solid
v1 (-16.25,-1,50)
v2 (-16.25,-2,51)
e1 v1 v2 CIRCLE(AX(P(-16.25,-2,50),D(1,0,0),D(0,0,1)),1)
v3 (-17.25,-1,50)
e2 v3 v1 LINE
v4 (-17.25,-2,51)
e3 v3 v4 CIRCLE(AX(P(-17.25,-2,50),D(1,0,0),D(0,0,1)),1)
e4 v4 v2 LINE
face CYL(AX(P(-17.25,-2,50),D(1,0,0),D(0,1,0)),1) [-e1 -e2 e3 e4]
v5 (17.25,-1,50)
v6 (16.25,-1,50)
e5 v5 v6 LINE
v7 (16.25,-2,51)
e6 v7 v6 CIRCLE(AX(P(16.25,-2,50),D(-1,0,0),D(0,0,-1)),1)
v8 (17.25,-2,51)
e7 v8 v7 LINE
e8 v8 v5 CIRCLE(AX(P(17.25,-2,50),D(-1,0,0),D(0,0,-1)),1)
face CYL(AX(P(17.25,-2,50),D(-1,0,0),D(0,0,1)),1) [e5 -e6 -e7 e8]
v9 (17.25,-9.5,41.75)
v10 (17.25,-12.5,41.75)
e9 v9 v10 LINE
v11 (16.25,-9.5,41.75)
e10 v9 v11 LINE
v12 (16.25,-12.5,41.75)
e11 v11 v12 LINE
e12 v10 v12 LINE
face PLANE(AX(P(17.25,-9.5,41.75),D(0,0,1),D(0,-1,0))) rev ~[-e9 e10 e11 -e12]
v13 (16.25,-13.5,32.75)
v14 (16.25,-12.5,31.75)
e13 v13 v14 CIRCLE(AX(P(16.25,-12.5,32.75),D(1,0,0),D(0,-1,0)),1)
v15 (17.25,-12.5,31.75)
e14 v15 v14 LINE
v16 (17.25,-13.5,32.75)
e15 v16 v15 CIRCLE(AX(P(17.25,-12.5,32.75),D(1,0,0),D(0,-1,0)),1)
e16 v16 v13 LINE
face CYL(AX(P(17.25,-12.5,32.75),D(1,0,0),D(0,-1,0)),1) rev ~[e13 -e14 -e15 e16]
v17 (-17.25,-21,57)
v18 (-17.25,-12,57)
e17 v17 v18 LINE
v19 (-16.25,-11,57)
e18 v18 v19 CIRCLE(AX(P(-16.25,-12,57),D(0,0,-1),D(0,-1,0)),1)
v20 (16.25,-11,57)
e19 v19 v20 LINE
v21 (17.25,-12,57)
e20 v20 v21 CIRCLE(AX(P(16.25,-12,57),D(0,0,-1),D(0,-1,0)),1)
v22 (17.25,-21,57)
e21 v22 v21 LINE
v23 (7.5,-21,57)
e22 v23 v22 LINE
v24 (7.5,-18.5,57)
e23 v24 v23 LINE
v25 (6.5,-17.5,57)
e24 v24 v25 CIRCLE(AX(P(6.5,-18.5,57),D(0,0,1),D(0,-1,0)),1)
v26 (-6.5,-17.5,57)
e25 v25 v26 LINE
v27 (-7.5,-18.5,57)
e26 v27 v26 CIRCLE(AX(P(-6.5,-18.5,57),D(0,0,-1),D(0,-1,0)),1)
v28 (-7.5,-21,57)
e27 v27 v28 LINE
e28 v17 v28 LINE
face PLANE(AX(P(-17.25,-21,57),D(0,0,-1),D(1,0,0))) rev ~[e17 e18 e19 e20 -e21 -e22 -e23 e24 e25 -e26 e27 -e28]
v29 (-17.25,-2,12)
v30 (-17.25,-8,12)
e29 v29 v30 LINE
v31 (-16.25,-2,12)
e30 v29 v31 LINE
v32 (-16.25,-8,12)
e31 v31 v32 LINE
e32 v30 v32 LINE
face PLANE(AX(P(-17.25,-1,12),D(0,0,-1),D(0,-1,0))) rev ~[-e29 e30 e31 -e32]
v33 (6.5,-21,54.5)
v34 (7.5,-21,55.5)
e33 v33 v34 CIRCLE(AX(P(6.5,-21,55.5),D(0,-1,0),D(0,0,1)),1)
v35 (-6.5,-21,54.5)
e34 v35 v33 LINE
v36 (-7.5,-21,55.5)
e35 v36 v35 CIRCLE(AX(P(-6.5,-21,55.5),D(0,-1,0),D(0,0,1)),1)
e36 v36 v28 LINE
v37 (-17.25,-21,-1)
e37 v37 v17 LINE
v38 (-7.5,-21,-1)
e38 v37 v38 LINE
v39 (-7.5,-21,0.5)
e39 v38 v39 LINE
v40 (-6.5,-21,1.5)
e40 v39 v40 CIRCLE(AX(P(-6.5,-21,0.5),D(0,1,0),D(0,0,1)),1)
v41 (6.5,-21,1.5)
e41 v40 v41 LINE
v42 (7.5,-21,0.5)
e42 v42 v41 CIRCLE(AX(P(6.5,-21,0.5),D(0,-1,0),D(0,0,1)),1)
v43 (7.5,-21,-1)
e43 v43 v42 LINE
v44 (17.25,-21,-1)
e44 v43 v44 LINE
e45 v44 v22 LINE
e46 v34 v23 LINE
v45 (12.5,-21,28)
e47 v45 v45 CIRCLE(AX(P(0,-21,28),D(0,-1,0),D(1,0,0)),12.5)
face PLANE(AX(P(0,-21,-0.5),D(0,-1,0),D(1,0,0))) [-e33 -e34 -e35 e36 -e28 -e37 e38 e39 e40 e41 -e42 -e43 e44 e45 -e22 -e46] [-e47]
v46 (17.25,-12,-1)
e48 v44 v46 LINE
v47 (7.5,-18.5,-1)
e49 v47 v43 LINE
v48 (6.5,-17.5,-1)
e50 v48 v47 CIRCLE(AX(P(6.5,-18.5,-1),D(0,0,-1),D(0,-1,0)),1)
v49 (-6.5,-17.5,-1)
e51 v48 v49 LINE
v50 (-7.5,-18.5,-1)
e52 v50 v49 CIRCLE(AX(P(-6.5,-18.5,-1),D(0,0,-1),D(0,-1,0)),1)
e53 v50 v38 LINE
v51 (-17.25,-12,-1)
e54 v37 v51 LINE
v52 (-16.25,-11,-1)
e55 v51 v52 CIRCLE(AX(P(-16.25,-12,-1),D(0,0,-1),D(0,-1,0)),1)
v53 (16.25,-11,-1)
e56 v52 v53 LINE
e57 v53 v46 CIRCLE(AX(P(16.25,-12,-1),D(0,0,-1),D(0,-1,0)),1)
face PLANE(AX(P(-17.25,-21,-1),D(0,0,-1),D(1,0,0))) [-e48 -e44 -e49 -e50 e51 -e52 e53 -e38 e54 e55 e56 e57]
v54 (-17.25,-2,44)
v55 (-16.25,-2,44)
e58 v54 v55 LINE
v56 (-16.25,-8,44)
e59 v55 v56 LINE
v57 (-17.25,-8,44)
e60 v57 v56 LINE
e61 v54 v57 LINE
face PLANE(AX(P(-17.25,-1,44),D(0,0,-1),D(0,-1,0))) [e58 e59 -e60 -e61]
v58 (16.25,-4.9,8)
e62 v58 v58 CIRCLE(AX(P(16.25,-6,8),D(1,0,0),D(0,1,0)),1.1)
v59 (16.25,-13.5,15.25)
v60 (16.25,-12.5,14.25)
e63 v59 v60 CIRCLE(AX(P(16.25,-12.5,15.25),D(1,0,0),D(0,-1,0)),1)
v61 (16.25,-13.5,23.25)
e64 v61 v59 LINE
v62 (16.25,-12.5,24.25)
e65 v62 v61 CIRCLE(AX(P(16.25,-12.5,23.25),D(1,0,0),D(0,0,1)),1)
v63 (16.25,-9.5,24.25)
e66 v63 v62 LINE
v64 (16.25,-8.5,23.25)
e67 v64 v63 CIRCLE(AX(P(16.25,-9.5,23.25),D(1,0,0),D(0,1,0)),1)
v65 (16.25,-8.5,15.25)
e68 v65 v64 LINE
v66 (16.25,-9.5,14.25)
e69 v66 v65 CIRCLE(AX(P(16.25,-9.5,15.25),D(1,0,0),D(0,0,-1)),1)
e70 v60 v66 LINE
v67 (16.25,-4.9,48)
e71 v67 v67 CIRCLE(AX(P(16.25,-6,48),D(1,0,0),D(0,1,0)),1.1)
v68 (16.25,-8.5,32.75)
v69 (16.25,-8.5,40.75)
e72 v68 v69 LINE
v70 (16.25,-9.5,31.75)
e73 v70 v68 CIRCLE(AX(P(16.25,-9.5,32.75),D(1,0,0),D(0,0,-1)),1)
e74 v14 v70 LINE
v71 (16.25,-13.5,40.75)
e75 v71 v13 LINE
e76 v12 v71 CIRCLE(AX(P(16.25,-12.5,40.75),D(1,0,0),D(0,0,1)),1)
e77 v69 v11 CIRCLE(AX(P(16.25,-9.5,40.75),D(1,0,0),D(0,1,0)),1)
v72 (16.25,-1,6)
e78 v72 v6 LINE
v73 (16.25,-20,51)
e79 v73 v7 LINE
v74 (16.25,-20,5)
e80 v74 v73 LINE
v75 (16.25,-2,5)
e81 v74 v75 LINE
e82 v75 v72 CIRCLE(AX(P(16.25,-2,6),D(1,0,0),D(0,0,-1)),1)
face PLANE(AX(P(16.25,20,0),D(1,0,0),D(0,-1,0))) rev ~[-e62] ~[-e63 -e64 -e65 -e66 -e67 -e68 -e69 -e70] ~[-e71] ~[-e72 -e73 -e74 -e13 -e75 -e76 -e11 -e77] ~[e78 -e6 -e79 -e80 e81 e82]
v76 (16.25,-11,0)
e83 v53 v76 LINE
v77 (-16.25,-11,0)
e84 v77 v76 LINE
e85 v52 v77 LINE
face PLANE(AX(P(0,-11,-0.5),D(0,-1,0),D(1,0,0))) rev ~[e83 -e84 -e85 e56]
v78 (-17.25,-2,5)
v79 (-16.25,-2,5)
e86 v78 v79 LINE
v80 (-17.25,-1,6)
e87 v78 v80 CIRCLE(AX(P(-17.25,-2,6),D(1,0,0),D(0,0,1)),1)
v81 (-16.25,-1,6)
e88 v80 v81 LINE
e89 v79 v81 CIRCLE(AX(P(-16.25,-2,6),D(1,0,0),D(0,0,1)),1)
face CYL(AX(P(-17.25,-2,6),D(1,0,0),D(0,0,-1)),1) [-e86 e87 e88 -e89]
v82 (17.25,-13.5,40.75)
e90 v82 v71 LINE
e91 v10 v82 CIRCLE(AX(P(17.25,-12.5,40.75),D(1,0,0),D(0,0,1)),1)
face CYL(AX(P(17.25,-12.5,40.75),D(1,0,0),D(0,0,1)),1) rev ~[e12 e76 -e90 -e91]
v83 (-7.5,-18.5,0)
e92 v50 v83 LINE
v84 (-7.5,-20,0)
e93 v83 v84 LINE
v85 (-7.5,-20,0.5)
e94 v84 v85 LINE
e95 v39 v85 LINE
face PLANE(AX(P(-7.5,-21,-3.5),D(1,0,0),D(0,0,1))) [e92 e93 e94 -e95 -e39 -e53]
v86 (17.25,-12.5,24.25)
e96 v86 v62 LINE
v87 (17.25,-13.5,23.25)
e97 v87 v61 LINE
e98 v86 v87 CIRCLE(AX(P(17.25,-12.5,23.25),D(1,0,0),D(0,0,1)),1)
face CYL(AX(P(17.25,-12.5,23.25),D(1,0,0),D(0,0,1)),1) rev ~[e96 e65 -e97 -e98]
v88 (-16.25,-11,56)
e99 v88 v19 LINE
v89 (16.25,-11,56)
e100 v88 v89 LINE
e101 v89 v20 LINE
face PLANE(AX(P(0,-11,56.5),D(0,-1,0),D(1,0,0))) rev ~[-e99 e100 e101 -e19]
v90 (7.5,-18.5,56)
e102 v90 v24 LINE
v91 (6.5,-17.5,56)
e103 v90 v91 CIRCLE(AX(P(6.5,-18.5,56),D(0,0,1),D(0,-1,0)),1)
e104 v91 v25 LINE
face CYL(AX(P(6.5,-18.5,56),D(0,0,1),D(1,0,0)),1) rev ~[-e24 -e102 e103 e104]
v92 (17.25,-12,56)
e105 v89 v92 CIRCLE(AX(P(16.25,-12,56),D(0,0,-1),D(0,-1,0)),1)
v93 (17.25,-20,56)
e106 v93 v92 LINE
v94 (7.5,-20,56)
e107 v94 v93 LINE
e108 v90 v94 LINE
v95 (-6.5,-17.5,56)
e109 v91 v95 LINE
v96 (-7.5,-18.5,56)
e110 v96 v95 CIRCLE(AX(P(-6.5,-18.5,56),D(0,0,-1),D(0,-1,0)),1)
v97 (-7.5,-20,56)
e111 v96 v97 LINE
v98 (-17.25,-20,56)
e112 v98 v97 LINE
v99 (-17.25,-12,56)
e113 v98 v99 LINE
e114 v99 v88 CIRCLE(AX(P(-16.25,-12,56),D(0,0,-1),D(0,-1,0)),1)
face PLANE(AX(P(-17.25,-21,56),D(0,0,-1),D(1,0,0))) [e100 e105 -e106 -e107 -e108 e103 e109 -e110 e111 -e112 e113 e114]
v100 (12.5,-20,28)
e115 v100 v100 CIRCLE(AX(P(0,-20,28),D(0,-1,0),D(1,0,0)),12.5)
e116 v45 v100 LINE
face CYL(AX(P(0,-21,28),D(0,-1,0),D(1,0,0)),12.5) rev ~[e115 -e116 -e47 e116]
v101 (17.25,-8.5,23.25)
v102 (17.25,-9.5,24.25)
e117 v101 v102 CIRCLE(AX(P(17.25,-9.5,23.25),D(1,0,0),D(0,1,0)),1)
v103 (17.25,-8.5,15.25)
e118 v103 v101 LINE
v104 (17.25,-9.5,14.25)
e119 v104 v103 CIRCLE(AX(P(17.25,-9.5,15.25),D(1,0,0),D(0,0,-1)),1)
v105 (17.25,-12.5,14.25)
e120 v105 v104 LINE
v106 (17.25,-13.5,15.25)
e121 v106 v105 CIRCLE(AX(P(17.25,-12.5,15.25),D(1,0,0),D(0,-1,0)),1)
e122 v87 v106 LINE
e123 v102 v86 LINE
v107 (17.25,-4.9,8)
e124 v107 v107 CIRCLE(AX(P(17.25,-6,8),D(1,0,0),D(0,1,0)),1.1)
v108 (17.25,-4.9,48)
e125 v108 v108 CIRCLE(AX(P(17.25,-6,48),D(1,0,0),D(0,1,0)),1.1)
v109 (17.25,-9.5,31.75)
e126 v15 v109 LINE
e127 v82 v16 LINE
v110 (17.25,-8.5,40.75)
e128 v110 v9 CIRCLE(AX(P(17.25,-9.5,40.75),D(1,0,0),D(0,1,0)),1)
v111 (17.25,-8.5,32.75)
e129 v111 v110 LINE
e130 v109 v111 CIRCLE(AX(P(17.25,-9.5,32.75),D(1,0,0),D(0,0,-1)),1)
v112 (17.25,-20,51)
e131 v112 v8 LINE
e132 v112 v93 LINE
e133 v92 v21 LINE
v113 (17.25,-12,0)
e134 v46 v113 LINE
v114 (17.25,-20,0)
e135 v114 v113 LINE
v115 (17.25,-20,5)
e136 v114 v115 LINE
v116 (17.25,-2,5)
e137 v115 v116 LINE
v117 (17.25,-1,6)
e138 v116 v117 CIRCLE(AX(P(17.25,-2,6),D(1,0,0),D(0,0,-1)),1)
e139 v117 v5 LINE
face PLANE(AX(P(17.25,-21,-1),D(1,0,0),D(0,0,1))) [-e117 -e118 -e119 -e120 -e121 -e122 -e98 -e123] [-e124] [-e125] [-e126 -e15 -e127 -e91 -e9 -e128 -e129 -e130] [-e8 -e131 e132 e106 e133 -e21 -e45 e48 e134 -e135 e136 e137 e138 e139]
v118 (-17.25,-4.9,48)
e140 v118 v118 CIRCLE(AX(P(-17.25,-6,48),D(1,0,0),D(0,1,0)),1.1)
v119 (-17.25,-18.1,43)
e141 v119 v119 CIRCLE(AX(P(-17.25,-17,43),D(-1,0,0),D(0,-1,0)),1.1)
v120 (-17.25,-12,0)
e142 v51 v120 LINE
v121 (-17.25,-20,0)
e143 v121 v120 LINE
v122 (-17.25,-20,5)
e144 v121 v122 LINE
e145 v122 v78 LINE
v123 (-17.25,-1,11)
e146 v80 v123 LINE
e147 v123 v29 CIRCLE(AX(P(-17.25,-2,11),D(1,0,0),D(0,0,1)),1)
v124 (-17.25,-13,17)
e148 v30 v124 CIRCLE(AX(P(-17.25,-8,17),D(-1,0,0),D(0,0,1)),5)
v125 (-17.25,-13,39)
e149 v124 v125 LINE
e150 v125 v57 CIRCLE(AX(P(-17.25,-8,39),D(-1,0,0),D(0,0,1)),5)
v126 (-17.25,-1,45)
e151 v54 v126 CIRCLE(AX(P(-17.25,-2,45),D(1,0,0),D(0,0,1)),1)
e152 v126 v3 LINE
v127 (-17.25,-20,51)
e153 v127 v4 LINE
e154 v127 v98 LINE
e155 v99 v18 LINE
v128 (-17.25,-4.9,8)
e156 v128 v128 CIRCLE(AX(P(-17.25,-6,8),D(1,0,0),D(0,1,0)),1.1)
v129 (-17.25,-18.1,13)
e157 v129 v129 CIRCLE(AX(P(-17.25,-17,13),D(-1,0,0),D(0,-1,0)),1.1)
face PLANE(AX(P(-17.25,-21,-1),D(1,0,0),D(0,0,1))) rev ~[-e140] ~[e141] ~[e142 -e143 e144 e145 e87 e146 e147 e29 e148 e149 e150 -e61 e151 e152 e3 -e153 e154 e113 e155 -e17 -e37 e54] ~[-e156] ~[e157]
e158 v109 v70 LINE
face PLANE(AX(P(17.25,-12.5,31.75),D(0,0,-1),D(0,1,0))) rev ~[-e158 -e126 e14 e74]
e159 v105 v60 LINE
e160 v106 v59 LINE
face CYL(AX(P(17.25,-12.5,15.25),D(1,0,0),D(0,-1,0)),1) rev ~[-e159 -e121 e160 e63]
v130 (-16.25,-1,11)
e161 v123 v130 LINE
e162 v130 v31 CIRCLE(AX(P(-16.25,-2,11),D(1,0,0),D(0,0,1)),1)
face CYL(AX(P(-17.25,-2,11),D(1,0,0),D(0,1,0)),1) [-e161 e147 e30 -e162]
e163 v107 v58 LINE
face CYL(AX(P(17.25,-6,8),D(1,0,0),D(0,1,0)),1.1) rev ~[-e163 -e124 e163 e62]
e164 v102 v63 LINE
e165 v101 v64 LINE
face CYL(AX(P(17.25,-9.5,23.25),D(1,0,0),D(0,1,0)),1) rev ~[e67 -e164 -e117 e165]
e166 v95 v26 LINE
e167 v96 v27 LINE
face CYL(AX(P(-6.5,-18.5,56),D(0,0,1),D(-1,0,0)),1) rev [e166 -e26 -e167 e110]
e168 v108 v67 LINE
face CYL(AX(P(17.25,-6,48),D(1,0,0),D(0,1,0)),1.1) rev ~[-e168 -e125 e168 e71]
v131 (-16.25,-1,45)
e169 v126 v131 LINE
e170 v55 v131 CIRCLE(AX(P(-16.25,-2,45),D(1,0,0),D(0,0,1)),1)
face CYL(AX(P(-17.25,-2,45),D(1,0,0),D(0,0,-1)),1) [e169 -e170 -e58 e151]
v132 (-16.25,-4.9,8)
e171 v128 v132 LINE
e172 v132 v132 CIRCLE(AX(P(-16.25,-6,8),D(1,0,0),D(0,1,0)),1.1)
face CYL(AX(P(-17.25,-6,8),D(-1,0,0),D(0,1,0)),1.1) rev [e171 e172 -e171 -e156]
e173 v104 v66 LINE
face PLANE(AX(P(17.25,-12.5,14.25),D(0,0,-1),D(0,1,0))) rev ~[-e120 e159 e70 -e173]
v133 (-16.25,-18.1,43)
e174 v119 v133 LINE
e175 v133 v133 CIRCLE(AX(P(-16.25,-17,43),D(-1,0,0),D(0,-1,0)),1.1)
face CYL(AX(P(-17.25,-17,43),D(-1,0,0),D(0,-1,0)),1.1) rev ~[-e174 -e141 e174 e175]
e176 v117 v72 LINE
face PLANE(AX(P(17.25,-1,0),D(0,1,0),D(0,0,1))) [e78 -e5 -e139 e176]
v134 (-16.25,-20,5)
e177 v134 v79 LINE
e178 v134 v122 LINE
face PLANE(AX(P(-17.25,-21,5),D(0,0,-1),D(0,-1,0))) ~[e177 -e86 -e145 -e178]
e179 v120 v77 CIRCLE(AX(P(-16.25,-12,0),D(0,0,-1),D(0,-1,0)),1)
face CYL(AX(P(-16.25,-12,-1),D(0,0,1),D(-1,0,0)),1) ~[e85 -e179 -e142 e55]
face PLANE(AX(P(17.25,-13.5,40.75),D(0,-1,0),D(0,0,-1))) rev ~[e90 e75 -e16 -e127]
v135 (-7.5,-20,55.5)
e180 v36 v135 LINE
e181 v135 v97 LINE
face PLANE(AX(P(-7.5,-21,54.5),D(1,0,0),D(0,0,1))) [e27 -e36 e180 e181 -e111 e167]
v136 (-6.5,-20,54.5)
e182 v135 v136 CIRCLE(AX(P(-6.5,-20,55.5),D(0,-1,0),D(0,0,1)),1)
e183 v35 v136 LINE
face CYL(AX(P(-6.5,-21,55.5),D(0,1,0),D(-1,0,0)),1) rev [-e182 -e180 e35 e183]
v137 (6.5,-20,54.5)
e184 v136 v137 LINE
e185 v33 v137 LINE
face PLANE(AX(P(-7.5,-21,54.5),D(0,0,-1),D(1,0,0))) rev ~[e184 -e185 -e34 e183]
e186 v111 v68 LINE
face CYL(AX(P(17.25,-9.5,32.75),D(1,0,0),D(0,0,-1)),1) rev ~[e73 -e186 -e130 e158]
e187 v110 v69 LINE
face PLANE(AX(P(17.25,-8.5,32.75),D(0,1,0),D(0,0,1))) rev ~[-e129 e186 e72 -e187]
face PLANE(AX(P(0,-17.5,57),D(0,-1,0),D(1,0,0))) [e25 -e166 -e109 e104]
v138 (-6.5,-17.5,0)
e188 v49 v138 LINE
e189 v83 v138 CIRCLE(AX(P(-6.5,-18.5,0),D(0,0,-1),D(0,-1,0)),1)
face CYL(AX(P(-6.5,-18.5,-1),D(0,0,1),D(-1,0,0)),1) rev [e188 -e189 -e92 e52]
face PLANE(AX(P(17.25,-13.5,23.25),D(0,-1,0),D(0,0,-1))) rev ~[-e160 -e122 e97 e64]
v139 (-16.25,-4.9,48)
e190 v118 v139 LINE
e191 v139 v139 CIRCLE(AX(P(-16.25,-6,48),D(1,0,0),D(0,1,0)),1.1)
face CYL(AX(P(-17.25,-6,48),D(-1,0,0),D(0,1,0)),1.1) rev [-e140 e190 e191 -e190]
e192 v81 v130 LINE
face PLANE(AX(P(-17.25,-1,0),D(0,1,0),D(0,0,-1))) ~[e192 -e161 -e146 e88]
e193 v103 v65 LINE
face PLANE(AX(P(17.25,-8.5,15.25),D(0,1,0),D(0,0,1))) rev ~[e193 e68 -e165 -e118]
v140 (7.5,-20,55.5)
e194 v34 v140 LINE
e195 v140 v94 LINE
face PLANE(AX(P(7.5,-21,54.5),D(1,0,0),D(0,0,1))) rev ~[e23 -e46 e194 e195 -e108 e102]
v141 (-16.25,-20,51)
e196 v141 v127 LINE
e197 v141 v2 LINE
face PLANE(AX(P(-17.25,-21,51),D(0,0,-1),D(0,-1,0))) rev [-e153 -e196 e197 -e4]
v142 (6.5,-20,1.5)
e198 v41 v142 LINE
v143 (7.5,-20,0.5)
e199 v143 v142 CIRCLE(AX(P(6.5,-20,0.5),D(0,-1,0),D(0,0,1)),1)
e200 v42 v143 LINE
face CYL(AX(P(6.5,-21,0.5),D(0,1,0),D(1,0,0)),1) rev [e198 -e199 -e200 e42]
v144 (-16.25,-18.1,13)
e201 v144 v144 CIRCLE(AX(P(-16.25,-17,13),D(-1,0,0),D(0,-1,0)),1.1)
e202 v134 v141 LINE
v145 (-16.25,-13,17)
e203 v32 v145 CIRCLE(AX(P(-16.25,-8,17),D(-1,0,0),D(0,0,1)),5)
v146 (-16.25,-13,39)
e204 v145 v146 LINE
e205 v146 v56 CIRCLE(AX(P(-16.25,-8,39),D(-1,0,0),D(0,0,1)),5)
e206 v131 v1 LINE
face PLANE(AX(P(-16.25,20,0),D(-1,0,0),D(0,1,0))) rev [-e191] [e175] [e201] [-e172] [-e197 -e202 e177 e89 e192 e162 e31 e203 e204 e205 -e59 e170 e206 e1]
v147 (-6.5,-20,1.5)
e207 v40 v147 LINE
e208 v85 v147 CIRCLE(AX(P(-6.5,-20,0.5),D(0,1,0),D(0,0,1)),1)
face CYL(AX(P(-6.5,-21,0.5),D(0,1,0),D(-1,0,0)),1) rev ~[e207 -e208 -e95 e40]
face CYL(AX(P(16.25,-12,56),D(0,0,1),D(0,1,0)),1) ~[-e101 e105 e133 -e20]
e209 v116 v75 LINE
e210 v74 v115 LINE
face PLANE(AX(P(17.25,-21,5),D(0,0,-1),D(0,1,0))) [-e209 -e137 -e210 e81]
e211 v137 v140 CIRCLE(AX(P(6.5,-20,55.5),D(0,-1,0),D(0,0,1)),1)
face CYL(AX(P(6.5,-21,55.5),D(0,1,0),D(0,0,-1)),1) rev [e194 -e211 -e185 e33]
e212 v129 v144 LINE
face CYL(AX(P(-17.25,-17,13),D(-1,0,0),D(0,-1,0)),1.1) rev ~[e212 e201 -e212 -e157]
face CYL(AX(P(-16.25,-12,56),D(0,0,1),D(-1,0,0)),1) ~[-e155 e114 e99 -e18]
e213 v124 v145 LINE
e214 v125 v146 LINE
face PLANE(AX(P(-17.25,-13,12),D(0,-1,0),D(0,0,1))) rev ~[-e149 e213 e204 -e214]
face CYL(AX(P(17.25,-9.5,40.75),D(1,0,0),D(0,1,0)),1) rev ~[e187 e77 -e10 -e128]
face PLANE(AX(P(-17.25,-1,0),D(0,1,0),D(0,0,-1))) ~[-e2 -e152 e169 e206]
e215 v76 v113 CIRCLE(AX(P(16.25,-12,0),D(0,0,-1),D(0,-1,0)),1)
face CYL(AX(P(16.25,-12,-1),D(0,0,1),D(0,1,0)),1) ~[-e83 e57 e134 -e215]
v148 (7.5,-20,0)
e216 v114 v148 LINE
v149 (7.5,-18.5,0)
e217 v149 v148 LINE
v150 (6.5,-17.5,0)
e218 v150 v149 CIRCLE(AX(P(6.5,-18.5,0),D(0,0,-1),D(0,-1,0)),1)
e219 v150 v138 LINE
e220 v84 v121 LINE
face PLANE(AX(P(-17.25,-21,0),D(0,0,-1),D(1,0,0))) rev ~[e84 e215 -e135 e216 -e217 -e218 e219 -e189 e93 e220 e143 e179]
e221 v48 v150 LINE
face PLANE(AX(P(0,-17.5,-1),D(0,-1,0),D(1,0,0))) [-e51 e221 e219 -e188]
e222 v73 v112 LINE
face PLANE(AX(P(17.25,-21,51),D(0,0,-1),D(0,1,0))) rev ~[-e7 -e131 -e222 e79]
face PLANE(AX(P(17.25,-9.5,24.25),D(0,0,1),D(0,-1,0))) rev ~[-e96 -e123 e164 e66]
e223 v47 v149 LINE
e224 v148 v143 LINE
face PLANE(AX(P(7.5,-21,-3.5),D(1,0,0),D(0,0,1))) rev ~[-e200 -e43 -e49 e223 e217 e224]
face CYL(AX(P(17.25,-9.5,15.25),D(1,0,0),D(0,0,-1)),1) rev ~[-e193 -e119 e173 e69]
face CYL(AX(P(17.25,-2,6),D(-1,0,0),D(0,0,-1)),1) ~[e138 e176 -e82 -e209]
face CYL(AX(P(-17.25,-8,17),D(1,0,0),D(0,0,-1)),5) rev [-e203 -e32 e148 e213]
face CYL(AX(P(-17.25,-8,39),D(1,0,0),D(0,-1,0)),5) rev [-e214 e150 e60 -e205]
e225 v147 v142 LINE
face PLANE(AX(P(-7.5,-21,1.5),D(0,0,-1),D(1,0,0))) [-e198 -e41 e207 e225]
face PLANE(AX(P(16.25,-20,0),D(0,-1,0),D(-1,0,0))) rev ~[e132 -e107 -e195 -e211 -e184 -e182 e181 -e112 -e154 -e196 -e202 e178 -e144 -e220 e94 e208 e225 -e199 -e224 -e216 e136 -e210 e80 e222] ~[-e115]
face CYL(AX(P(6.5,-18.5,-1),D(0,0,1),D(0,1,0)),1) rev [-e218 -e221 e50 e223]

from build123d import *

# Parameters (mm, degrees)
F1_DEPTH  = 56
F2_W      = 4
F2_H      = 38
F2_R      = 1.1
F2_R_2    = 12.5
F3_DEPTH  = 1
F4_W      = 21
F4_H      = 56
F4_R      = 1.1
F5_DEPTH  = 1
F6_W      = 20
F6_H      = 5
F7_DEPTH  = 1
F8_W      = 36
F8_H      = 38
F9_DEPTH  = 1
F11_R     = 1.1
F11_W     = 12
F11_H     = 32
F12_DEPTH = 1
F13_W     = 34.5
F13_H     = 1
F14_DEPTH = 10
F15_R     = 12.5
F15_W     = 15
F15_H     = 5
F16_DEPTH = 3.5
F18_DEPTH = 1
F19_R     = 1
F20_R     = 5


with BuildPart() as f1:
    # F0 (on Top) → F1 (new body)
    with BuildSketch(Plane.XY):
        Polygon((16.25, -20), (-16.25, -20), (-16.25, 20), (-17.25, 20), (-17.25, -21), (17.25, -21), (17.25, 20), (16.25, 20), align=None)
    extrude(amount=F1_DEPTH)

    # F2 (on face) → F3 (cut, through all)
    with BuildSketch(Plane(origin=(-17.25, 0, 0), x_dir=(0, -1, 0), z_dir=(-1, 0, 0))):
        Polygon((-20, 0), (20, 0), (20, 9), (-16, 9), (-20, 9), align=None)
        with Locations((-18, 28)):
            Rectangle(F2_W, F2_H)
        Polygon((-20, 56), (-20, 47), (-16, 47), (20, 47), (20, 56), align=None)
        with Locations((18, 43)):
            Circle(F2_R)
        with Locations((-12, 43)):
            Circle(F2_R)
        with Locations((-12, 13)):
            Circle(F2_R)
        with Locations((18, 13)):
            Circle(F2_R)
        with Locations((3, 28)):
            Circle(F2_R_2)
    extrude(amount=-F3_DEPTH, mode=Mode.SUBTRACT)

    # F4 (on face) → F5 (cut, through all)
    with BuildSketch(Plane.YZ.offset(17.25)):
        with Locations((9.5, 28)):
            Rectangle(F4_W, F4_H)
        with Locations((-6, 8)):
            Circle(F4_R)
        with Locations((-6, 48)):
            Circle(F4_R)
    extrude(amount=-F5_DEPTH, mode=Mode.SUBTRACT)

    # F6 (on face) → F7 (cut)
    with BuildSketch(Plane.YZ.offset(17.25)):
        with Locations((-11, 2.5)):
            Rectangle(F6_W, F6_H)
        with Locations((-11, 53.5)):
            Rectangle(F6_W, F6_H)
    extrude(amount=-F7_DEPTH, mode=Mode.SUBTRACT)

    # F8 (on face) → F9 (cut)
    with BuildSketch(Plane(origin=(-17.25, 0, 0), x_dir=(0, -1, 0), z_dir=(-1, 0, 0))):
        with Locations((2, 28)):
            Rectangle(F8_W, F8_H)
    extrude(amount=-F9_DEPTH, mode=Mode.SUBTRACT)

    # F10: F1 across plane


with BuildPart() as f1_1:
    add(f1.part)
    add(f1.part.mirror(Plane.YZ))

    # F11 (on face) → F12 (cut, through all)
    with BuildSketch(Plane(origin=(-17.25, 0, 0), x_dir=(0, -1, 0), z_dir=(-1, 0, 0))):
        with Locations((17, 43)):
            Circle(F11_R)
        with Locations((17, 13)):
            Circle(F11_R)
        with Locations((7, 28)):
            Rectangle(F11_W, F11_H)
    extrude(amount=-F12_DEPTH, mode=Mode.SUBTRACT)

    # F13 (on face) → F14 (join)
    with BuildSketch(Plane.XZ.offset(21)):
        with Locations((0, -0.5)):
            Rectangle(F13_W, F13_H)
        with Locations((0, 56.5)):
            Rectangle(F13_W, F13_H)
    extrude(amount=-F14_DEPTH)

    # F15 (on face) → F16 (cut)
    with BuildSketch(Plane.XZ.offset(21)):
        with Locations((0, 28)):
            Circle(F15_R)
        with Locations((0, 57)):
            Rectangle(F15_W, F15_H)
        with Locations((0, -1)):
            Rectangle(F15_W, F15_H)
    extrude(amount=-F16_DEPTH, mode=Mode.SUBTRACT)

    # F17 (on face) → F18 (cut, through all)
    with BuildSketch(Plane.YZ.offset(17.25)):
        with BuildLine():
            ThreePointArc((-13.5, 15.25), (-13.2071067812, 14.5428932188), (-12.5, 14.25))
            Line((-12.5, 14.25), (-9.5, 14.25))
            ThreePointArc((-9.5, 14.25), (-8.7928932188, 14.5428932188), (-8.5, 15.25))
            Line((-8.5, 15.25), (-8.5, 23.25))
            ThreePointArc((-8.5, 23.25), (-8.7928932188, 23.9571067812), (-9.5, 24.25))
            Line((-9.5, 24.25), (-12.5, 24.25))
            ThreePointArc((-12.5, 24.25), (-13.2071067812, 23.9571067812), (-13.5, 23.25))
            Line((-13.5, 23.25), (-13.5, 15.25))
        make_face()
        with BuildLine():
            ThreePointArc((-12.5, 41.75), (-13.2071067812, 41.4571067812), (-13.5, 40.75))
            Line((-13.5, 40.75), (-13.5, 32.75))
            ThreePointArc((-13.5, 32.75), (-13.2071067812, 32.0428932188), (-12.5, 31.75))
            Line((-12.5, 31.75), (-9.5, 31.75))
            ThreePointArc((-9.5, 31.75), (-8.7928932188, 32.0428932188), (-8.5, 32.75))
            Line((-8.5, 32.75), (-8.5, 40.75))
            ThreePointArc((-8.5, 40.75), (-8.7928932188, 41.4571067812), (-9.5, 41.75))
            Line((-9.5, 41.75), (-12.5, 41.75))
        make_face()
    extrude(amount=-F18_DEPTH, mode=Mode.SUBTRACT)

    # F19
    f19_edges = [f1_1.edges().sort_by_distance(p)[0] for p in [
        (-17.25, -11, 56.5),
        (17.25, -11, 56.5),
        (16.75, -1, 51),
        (16.75, -1, 5),
        (-16.75, -1, 5),
        (-16.75, -1, 12),
        (-16.75, -1, 51),
        (-16.75, -1, 44),
        (-17.25, -11, -0.5),
        (17.25, -11, -0.5),
        (7.5, -20.5, 1.5),
        (7.5, -17.5, -0.5),
        (-7.5, -20.5, 1.5),
        (-7.5, -17.5, -0.5),
        (7.5, -20.5, 54.5),
        (7.5, -17.5, 56.5),
        (-7.5, -17.5, 56.5),
        (-7.5, -20.5, 54.5),
    ]]
    fillet(f19_edges, radius=F19_R)

    # F20
    f20_edges = [f1_1.edges().sort_by_distance(p)[0] for p in [
        (-16.75, -13, 44),
        (-16.75, -13, 12),
    ]]
    fillet(f20_edges, radius=F20_R)


solid = f1_1.part
